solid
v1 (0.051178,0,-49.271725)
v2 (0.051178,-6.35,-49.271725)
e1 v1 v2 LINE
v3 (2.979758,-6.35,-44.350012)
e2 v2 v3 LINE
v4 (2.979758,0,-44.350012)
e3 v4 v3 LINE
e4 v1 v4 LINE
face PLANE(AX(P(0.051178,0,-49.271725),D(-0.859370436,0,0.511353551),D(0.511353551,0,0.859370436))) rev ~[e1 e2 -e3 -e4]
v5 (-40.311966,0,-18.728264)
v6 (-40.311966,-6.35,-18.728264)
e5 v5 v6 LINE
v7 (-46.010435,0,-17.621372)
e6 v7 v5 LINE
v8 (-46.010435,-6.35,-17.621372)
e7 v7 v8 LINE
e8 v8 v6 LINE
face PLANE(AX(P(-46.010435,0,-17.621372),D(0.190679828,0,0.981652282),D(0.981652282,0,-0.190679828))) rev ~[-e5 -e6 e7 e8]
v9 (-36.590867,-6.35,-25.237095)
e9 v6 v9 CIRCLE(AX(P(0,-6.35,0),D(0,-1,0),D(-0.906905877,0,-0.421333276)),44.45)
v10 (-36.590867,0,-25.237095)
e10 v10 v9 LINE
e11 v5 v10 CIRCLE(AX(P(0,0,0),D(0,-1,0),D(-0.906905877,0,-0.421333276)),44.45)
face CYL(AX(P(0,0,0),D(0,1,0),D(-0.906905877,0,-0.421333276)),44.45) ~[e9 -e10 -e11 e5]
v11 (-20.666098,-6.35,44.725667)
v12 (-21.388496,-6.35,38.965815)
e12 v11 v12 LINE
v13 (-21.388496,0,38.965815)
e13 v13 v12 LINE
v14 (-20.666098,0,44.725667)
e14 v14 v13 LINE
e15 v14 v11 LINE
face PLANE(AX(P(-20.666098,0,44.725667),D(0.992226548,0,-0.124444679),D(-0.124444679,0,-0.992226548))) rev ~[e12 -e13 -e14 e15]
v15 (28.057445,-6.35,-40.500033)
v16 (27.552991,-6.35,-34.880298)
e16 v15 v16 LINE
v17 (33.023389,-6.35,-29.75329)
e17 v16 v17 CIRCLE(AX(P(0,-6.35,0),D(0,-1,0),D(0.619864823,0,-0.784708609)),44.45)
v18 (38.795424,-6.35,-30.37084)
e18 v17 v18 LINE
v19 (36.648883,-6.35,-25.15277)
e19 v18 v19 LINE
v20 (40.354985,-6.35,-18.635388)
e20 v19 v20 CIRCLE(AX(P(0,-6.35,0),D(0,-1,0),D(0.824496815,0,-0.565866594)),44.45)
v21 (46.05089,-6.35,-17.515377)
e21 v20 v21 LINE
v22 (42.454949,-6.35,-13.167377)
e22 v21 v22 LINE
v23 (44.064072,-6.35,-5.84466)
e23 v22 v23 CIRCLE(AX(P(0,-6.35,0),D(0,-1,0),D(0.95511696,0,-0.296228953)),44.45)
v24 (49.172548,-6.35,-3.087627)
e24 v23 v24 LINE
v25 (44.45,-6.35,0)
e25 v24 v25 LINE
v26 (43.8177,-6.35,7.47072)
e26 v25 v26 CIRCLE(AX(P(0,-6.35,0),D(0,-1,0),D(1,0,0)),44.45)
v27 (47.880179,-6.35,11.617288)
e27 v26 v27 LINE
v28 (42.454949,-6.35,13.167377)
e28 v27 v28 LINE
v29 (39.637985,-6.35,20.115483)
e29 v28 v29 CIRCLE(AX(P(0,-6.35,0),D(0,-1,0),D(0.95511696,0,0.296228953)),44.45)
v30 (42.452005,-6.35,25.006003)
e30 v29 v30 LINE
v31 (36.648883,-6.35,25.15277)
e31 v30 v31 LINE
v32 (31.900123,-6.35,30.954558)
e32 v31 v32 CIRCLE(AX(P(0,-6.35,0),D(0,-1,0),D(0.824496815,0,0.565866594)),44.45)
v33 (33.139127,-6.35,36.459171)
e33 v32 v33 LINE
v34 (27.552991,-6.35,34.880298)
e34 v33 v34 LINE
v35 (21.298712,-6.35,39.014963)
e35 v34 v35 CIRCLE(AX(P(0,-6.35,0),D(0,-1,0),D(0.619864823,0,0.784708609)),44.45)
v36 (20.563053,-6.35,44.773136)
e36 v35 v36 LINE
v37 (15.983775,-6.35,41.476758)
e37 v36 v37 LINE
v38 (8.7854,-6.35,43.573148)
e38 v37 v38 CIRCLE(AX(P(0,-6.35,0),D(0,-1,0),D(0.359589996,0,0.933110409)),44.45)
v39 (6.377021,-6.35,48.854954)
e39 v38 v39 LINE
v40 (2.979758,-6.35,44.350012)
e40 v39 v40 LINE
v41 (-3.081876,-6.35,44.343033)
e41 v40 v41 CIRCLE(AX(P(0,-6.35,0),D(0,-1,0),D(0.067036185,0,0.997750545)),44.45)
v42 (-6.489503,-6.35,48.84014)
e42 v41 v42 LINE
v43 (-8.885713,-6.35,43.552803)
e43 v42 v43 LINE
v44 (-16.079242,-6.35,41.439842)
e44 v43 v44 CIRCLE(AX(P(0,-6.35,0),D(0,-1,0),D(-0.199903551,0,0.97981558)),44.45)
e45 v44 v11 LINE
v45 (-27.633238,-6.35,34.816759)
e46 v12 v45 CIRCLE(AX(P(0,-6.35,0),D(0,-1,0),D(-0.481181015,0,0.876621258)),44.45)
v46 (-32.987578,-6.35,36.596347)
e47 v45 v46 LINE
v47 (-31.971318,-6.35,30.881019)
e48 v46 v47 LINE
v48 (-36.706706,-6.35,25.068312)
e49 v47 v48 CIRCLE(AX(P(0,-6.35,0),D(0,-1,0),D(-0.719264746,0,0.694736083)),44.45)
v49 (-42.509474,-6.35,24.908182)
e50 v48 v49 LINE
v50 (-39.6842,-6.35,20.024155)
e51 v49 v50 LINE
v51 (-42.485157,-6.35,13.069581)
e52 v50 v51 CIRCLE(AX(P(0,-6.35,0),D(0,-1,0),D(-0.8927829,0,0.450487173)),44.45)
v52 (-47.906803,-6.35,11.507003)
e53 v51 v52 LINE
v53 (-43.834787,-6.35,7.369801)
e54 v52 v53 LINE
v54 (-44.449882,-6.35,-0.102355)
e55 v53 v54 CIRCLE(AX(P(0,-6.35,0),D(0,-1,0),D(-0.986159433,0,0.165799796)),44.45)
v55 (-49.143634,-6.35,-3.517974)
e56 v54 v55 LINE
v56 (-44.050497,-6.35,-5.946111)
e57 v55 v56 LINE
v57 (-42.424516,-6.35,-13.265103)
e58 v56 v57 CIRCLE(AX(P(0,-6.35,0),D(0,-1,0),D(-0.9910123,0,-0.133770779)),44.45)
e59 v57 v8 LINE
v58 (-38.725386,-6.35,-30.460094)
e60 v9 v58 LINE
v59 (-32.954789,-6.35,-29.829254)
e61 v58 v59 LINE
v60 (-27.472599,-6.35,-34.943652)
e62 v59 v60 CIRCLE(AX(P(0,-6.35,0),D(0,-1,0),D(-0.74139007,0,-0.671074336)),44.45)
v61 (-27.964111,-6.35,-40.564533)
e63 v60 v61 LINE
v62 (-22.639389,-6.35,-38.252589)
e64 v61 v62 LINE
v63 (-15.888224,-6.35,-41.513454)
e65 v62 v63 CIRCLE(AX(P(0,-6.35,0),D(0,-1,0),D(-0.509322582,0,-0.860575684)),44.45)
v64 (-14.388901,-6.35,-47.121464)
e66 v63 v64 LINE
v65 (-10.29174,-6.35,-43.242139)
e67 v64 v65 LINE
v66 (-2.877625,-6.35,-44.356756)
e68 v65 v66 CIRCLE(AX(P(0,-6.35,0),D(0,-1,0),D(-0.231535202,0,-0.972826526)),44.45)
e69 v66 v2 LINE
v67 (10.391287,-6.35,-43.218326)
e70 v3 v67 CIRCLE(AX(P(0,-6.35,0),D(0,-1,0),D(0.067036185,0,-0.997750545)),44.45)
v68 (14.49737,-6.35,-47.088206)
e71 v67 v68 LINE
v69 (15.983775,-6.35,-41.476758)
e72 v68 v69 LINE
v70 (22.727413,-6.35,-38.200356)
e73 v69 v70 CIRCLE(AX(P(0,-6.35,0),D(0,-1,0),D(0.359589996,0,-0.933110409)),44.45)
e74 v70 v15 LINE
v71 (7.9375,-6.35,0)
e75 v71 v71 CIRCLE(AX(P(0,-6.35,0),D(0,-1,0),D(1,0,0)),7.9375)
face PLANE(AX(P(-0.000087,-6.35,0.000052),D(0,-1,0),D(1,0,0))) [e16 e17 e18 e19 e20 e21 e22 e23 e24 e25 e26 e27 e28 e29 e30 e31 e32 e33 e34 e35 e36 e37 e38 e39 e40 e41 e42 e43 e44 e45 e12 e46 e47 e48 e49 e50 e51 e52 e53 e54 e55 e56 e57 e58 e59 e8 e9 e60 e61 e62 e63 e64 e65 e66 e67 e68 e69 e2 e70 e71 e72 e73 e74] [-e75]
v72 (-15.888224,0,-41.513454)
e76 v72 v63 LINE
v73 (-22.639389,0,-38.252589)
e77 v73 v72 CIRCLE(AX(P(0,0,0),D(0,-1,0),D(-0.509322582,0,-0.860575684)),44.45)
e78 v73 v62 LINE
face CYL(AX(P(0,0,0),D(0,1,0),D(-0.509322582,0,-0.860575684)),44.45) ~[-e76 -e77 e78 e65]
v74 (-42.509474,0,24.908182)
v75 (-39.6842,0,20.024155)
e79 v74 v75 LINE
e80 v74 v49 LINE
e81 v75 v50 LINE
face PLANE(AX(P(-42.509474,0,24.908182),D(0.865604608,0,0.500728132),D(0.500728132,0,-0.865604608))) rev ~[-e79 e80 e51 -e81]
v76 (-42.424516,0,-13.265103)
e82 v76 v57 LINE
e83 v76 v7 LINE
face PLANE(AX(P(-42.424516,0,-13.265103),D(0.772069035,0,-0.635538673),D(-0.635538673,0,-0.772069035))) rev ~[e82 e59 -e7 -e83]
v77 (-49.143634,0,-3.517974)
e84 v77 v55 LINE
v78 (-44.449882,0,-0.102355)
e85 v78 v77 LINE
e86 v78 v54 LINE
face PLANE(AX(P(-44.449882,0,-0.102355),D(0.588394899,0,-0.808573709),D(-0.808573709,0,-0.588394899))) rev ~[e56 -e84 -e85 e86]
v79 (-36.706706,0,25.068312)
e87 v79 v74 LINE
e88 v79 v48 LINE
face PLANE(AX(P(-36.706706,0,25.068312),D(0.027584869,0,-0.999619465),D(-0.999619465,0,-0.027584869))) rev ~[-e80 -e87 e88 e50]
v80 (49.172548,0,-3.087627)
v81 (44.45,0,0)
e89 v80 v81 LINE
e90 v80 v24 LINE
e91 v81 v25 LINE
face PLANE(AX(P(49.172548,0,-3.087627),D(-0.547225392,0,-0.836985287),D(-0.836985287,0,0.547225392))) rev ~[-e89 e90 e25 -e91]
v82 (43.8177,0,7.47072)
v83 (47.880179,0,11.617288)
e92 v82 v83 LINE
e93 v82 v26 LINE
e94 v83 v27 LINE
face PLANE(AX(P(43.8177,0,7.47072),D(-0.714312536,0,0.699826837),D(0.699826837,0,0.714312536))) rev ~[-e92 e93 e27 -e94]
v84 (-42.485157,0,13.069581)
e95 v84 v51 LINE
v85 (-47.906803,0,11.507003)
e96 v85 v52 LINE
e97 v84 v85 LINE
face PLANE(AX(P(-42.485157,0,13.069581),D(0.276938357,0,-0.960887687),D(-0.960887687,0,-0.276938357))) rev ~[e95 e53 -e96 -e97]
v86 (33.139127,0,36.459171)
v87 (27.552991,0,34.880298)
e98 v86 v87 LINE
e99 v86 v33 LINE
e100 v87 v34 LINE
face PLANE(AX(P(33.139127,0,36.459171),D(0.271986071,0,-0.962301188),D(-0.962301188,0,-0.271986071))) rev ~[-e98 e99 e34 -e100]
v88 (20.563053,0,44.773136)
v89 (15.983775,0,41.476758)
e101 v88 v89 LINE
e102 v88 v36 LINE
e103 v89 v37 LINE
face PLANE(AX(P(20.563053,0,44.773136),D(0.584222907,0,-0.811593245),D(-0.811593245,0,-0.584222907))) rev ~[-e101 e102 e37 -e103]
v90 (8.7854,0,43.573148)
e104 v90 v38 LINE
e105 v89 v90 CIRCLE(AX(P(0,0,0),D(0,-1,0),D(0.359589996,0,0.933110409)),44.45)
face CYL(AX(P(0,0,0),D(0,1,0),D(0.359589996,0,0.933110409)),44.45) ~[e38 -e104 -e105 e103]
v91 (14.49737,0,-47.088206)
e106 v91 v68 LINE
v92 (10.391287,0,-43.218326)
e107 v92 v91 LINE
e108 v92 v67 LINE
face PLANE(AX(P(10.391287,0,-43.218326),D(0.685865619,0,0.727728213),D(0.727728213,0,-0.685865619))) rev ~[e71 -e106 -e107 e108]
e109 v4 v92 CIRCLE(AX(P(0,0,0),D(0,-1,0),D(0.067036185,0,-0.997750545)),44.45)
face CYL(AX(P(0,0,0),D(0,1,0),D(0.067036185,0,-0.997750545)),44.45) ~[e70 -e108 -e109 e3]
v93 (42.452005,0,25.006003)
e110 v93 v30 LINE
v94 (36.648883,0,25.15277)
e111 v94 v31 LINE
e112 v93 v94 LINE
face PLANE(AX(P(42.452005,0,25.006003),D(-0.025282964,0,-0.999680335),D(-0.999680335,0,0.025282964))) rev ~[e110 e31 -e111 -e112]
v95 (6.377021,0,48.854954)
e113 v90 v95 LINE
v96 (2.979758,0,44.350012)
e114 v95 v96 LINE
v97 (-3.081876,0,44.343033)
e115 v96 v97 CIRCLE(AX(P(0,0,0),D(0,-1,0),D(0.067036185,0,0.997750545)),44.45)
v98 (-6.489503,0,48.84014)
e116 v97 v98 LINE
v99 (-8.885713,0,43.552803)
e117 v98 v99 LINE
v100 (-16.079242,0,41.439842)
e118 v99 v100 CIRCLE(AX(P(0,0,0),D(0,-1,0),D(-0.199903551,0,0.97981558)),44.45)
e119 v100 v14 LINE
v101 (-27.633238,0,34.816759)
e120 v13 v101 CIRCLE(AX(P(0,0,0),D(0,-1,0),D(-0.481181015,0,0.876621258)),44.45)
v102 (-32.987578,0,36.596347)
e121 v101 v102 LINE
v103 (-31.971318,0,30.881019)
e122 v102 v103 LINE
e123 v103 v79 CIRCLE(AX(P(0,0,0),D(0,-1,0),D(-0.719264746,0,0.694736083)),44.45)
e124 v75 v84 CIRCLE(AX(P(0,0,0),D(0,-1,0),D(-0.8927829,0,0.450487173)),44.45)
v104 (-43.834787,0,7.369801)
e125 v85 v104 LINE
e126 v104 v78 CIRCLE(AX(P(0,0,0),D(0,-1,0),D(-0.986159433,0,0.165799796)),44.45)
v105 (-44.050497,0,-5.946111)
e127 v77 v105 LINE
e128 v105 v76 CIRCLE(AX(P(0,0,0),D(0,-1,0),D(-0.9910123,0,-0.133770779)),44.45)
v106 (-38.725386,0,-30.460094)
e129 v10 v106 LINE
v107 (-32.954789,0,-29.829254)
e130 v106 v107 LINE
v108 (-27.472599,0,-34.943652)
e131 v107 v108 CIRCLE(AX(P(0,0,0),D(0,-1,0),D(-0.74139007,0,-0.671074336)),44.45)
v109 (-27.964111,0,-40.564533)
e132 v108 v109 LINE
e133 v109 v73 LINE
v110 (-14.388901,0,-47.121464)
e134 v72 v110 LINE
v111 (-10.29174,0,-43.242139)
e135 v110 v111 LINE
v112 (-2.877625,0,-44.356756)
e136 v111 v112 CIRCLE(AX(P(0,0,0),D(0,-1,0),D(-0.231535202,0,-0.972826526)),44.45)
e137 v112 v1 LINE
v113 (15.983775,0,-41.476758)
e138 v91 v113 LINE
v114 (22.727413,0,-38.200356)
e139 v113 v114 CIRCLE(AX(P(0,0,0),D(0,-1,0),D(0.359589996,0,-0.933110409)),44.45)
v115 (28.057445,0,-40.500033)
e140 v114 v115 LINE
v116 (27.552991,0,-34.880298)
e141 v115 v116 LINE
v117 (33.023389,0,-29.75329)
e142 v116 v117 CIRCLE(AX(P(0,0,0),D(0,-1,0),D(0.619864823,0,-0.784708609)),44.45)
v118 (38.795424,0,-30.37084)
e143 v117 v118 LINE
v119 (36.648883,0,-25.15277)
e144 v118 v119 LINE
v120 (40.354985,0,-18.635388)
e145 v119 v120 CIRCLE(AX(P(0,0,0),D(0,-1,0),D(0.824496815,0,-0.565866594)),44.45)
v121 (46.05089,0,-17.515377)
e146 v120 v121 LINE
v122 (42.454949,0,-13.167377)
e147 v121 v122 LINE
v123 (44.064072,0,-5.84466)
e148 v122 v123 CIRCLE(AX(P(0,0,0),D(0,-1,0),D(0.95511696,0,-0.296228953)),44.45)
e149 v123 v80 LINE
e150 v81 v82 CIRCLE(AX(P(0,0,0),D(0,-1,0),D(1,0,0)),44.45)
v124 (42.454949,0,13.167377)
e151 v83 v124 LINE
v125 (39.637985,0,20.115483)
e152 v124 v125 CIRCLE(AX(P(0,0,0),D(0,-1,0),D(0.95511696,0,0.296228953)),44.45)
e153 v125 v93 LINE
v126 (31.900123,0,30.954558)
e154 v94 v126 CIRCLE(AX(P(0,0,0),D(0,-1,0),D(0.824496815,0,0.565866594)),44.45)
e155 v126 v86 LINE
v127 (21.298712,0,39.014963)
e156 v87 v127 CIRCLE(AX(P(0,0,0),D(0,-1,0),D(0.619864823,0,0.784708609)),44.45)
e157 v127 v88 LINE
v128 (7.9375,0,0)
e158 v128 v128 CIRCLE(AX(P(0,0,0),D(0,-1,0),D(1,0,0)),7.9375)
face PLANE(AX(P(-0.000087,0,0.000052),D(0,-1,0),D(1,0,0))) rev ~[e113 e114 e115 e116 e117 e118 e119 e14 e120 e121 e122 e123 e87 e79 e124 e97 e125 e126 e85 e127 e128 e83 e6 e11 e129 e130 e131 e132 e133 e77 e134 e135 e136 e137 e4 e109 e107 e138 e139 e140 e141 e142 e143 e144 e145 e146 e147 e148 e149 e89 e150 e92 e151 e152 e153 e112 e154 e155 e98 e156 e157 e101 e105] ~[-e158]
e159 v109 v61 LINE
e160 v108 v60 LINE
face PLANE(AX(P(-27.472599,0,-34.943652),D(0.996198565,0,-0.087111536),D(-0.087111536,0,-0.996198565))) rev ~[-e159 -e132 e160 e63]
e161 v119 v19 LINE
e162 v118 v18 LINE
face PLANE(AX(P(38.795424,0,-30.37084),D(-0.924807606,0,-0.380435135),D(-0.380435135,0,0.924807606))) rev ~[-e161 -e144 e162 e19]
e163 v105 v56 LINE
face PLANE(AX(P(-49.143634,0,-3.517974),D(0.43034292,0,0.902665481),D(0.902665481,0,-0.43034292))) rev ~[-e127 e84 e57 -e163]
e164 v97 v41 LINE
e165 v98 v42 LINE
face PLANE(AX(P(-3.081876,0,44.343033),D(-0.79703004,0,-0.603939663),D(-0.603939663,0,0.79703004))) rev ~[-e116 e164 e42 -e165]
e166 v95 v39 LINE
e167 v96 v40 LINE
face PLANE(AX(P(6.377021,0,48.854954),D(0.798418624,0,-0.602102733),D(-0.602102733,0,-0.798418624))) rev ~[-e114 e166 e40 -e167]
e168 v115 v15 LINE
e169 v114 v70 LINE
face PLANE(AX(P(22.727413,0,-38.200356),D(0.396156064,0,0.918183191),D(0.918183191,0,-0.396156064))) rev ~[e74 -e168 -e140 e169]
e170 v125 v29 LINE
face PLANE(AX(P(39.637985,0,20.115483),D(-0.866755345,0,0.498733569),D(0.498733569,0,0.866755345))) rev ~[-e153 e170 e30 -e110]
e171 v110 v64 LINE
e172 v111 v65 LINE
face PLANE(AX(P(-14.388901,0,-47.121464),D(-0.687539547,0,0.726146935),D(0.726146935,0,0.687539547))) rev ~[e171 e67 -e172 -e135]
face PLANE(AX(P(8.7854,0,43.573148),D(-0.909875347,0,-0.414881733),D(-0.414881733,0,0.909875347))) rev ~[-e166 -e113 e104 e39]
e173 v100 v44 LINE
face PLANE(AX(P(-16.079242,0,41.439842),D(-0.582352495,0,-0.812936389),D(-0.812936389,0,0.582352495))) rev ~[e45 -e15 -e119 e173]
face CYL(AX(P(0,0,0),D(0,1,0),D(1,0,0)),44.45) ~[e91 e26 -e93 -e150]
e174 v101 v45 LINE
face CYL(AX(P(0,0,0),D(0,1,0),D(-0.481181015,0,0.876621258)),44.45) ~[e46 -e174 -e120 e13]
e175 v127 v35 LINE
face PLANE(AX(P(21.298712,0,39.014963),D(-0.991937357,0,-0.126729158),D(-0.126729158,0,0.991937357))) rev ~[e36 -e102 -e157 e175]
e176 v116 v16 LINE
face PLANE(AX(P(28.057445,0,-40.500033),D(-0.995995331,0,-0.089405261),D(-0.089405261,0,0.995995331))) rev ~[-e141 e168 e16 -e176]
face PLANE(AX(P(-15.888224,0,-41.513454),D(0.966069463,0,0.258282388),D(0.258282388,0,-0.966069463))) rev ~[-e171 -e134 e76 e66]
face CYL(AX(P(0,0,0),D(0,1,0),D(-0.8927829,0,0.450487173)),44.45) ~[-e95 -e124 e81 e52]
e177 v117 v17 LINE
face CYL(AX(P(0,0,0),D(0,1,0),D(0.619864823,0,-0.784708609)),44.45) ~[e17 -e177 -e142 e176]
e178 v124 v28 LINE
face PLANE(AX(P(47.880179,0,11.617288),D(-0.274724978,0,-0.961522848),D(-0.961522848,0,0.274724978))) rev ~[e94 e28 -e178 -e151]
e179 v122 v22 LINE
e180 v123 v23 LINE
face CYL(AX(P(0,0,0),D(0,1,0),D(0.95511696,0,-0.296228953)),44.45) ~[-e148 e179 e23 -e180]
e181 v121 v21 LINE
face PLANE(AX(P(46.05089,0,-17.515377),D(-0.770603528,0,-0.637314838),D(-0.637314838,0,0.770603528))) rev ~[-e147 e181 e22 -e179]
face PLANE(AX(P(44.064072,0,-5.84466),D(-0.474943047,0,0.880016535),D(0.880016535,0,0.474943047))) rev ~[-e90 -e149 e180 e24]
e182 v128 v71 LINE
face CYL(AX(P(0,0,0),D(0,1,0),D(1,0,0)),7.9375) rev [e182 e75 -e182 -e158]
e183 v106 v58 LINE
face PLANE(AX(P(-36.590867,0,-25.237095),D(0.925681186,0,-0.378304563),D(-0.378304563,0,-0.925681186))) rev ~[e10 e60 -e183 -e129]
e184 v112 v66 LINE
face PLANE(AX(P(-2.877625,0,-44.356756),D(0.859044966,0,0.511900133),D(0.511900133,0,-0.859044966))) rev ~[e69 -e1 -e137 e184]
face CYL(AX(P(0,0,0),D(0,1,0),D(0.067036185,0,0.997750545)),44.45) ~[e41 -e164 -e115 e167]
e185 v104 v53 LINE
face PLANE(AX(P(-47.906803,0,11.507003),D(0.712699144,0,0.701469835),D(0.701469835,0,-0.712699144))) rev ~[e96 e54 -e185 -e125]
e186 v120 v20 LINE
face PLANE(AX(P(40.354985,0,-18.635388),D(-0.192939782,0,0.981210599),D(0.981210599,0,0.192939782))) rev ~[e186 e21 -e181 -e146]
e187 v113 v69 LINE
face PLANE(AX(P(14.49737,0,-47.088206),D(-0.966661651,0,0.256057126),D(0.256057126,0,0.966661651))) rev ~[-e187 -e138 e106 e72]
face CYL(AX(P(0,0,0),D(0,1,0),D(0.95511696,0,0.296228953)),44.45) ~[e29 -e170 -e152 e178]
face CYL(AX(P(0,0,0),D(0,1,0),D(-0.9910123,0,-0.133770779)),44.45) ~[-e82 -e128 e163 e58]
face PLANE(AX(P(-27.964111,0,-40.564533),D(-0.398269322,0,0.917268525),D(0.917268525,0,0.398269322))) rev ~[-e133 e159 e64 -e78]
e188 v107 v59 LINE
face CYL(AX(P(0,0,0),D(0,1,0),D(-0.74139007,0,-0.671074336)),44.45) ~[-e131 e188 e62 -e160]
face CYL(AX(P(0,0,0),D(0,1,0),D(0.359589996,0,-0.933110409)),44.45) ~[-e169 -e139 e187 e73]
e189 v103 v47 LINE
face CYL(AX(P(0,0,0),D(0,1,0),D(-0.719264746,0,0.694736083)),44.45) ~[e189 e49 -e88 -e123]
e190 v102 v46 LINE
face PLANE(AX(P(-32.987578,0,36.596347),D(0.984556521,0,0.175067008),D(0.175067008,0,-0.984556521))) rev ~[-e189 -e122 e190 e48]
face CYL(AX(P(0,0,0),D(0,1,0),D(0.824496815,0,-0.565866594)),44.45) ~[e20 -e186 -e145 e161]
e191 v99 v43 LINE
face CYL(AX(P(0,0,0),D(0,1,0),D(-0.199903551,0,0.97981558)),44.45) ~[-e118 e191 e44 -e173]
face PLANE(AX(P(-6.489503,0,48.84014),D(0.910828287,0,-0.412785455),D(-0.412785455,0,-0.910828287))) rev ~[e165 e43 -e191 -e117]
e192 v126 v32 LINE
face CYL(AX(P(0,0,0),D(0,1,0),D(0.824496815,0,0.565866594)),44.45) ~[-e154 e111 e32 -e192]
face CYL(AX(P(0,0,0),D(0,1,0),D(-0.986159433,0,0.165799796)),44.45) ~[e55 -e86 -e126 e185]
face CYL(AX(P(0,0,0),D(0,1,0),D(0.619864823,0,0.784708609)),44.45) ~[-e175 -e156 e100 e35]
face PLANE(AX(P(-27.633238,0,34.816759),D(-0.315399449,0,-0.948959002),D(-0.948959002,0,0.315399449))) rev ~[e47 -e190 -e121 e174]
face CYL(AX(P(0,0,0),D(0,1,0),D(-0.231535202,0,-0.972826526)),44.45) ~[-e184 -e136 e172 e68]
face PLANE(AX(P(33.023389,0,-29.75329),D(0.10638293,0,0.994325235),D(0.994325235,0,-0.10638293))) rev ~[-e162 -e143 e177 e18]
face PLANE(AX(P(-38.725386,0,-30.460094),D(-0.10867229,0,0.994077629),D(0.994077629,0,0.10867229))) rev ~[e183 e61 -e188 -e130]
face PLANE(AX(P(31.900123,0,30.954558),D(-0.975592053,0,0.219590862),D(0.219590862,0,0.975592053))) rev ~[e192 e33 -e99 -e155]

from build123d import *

# Parameters (mm, degrees)
F0_R     = 7.9375
F1_DEPTH = 6.35


with BuildPart() as f1:
    # F0 (on Front) → F1 (new body)
    with BuildSketch(Plane.XZ):
        with BuildLine():
            ThreePointArc((44.0640721068, -5.844659902), (44.3534130882, -2.9286938091), (44.45, 0))
            ThreePointArc((44.45, 0), (44.2916429403, 3.7487151993), (43.8177000834, 7.4707201392))
            ThreePointArc((43.8177000834, 7.4707201392), (43.2302609799, 10.3415199856), (42.4549488772, 13.1673769534))
            ThreePointArc((42.4549488772, 13.1673769534), (41.1932213858, 16.7009284729), (39.6379848993, 20.1154829204))
            ThreePointArc((39.6379848993, 20.1154829204), (38.2264978161, 22.6834160724), (36.6488834271, 25.1527700969))
            ThreePointArc((36.6488834271, 25.1527700969), (34.3970458346, 28.1539648691), (31.900123201, 30.9545576574))
            ThreePointArc((31.900123201, 30.9545576574), (29.7912918003, 32.9891108226), (27.552991384, 34.8802976735))
            ThreePointArc((27.552991384, 34.8802976735), (24.5131823233, 37.0797302092), (21.2987124989, 39.0149631025))
            ThreePointArc((21.2987124989, 39.0149631025), (20.0011436472, 39.6958027102), (18.6818383084, 40.3335024194))
            Line((18.6818383084, 40.3335024194), (15.9837753185, 41.476757667))
            ThreePointArc((15.9837753185, 41.476757667), (12.4288665323, 42.6769935296), (8.7853998717, 43.5731482578))
            Line((8.7853998717, 43.5731482578), (5.8953894288, 44.0573136208))
            ThreePointArc((5.8953894288, 44.0573136208), (4.4399865206, 44.227695166), (2.9797584028, 44.3500117233))
            ThreePointArc((2.9797584028, 44.3500117233), (-0.0511777408, 44.4499705381), (-3.0818756726, 44.3430326245))
            ThreePointArc((-3.0818756726, 44.3430326245), (-5.99682497, 44.0436214483), (-8.8857128589, 43.5528025159))
            ThreePointArc((-8.8857128589, 43.5528025159), (-12.5271062762, 42.6482603203), (-16.0792418436, 41.4398417195))
            ThreePointArc((-16.0792418436, 41.4398417195), (-18.7746650962, 40.2903766491), (-21.3884961364, 38.9658149282))
            ThreePointArc((-21.3884961364, 38.9658149282), (-24.5985011604, 37.0231851772), (-27.6332375088, 34.8167586772))
            ThreePointArc((-27.6332375088, 34.8167586772), (-29.8671771379, 32.9204226858), (-31.9713179637, 30.8810188896))
            ThreePointArc((-31.9713179637, 30.8810188896), (-34.4617850273, 28.0746838403), (-36.7067057715, 25.0683116983))
            ThreePointArc((-36.7067057715, 25.0683116983), (-38.2786297743, 22.5953314338), (-39.6841999125, 20.0241548461))
            ThreePointArc((-39.6841999125, 20.0241548461), (-41.2315695506, 16.6060281944), (-42.4851569561, 13.0695806519))
            ThreePointArc((-42.4851569561, 13.0695806519), (-43.253959877, 10.2419458581), (-43.8347868066, 7.3698009215))
            ThreePointArc((-43.8347868066, 7.3698009215), (-44.3001577128, 3.6467144971), (-44.4498821525, -0.1023554137))
            ThreePointArc((-44.4498821525, -0.1023554137), (-44.3465515673, -3.0308190466), (-44.0504967316, -5.9461111405))
            ThreePointArc((-44.0504967316, -5.9461111405), (-43.3920943841, -9.6399504647), (-42.424515682, -13.2651034351))
            ThreePointArc((-42.424515682, -13.2651034351), (-41.4583271722, -16.0315192069), (-40.3119662534, -18.7282641156))
            ThreePointArc((-40.3119662534, -18.7282641156), (-38.5888928498, -22.0612748641), (-36.5908667529, -25.2370951235))
            ThreePointArc((-36.5908667529, -25.2370951235), (-34.8485512733, -27.5931327354), (-32.954788597, -29.8292542402))
            ThreePointArc((-32.954788597, -29.8292542402), (-30.3217176818, -32.5022451044), (-27.4725991601, -34.943651718))
            ThreePointArc((-27.4725991601, -34.943651718), (-25.1105575411, -36.6778189097), (-22.6393887587, -38.2525891494))
            ThreePointArc((-22.6393887587, -38.2525891494), (-19.3326807859, -40.025616218), (-15.8882240398, -41.5134536851))
            ThreePointArc((-15.8882240398, -41.5134536851), (-13.1184874977, -42.4700810662), (-10.2917397433, -43.2421390897))
            ThreePointArc((-10.2917397433, -43.2421390897), (-6.6082249244, -43.9560446736), (-2.877625333, -44.3567556573))
            ThreePointArc((-2.877625333, -44.3567556573), (0.0511777408, -44.4499705381), (2.9797584028, -44.3500117233))
            ThreePointArc((2.9797584028, -44.3500117233), (6.7094253828, -43.9407113169), (10.391286519, -43.2183255631))
            ThreePointArc((10.391286519, -43.2183255631), (13.2162489541, -42.4397604091), (15.9837753185, -41.476757667))
            ThreePointArc((15.9837753185, -41.476757667), (19.4247968758, -39.9809925631), (22.7274133165, -38.2003558091))
            ThreePointArc((22.7274133165, -38.2003558091), (25.1949493097, -36.619899362), (27.552991384, -34.8802976735))
            ThreePointArc((27.552991384, -34.8802976735), (30.3964805031, -32.4323368419), (33.0233893173, -29.7532898685))
            ThreePointArc((33.0233893173, -29.7532898685), (34.9119978358, -27.5128135078), (36.6488834271, -25.1527700969))
            ThreePointArc((36.6488834271, -25.1527700969), (38.6395912369, -21.9723573847), (40.3549851186, -18.6353877362))
            ThreePointArc((40.3549851186, -18.6353877362), (40.9473091431, -17.2950968178), (41.4951331794, -15.9360102417))
            Line((41.4951331794, -15.9360102417), (42.4549488772, -13.1673769534))
            ThreePointArc((42.4549488772, -13.1673769534), (43.4141773417, -9.5400055419), (44.0640721068, -5.844659902))
        make_face()
        Circle(F0_R, mode=Mode.SUBTRACT)
        with BuildLine():
            Line((49.1725476546, -3.0876265469), (44.45, 0))
            ThreePointArc((44.45, 0), (44.3534130882, -2.9286938091), (44.0640721068, -5.844659902))
            Line((44.0640721068, -5.844659902), (49.1725476546, -3.0876265469))
        make_face()
        with BuildLine():
            ThreePointArc((42.4549488772, 13.1673769534), (43.2302609799, 10.3415199856), (43.8177000834, 7.4707201392))
            Line((43.8177000834, 7.4707201392), (47.8801786158, 11.6172878184))
            Line((47.8801786158, 11.6172878184), (42.4549488772, 13.1673769534))
        make_face()
        with BuildLine():
            Line((46.0508898584, -17.5153767813), (42.4549488772, -13.1673769534))
            ThreePointArc((42.4549488772, -13.1673769534), (41.997861873, -14.5596050118), (41.4951331794, -15.9360102417))
            ThreePointArc((41.4951331794, -15.9360102417), (40.9473091431, -17.2950968178), (40.3549851186, -18.6353877362))
            Line((40.3549851186, -18.6353877362), (46.0508898584, -17.5153767813))
        make_face()
        with BuildLine():
            ThreePointArc((41.4951331794, -15.9360102417), (41.997861873, -14.5596050118), (42.4549488772, -13.1673769534))
            Line((42.4549488772, -13.1673769534), (41.4951331794, -15.9360102417))
        make_face()
        with BuildLine():
            ThreePointArc((36.6488834271, 25.1527700969), (38.2264978161, 22.6834160724), (39.6379848993, 20.1154829204))
            Line((39.6379848993, 20.1154829204), (42.4520045518, 25.0060030808))
            Line((42.4520045518, 25.0060030808), (36.6488834271, 25.1527700969))
        make_face()
        with BuildLine():
            ThreePointArc((27.552991384, 34.8802976735), (29.7912918003, 32.9891108226), (31.900123201, 30.9545576574))
            Line((31.900123201, 30.9545576574), (33.1391274312, 36.4591705012))
            Line((33.1391274312, 36.4591705012), (27.552991384, 34.8802976735))
        make_face()
        with BuildLine():
            Line((38.7954242099, -30.3708403064), (36.6488834271, -25.1527700969))
            ThreePointArc((36.6488834271, -25.1527700969), (34.9119978358, -27.5128135078), (33.0233893173, -29.7532898685))
            Line((33.0233893173, -29.7532898685), (38.7954242099, -30.3708403064))
        make_face()
        with BuildLine():
            ThreePointArc((18.6818383084, 40.3335024194), (20.0011436472, 39.6958027102), (21.2987124989, 39.0149631025))
            Line((21.2987124989, 39.0149631025), (20.5630526794, 44.7731364218))
            Line((20.5630526794, 44.7731364218), (15.9837753185, 41.476757667))
            ThreePointArc((15.9837753185, 41.476757667), (17.3422302537, 40.9273692024), (18.6818383084, 40.3335024194))
        make_face()
        with BuildLine():
            Line((28.0574454172, -40.500032558), (27.552991384, -34.8802976735))
            ThreePointArc((27.552991384, -34.8802976735), (25.1949493097, -36.619899362), (22.7274133165, -38.2003558091))
            Line((22.7274133165, -38.2003558091), (28.0574454172, -40.500032558))
        make_face()
        with BuildLine():
            Line((15.9837753185, 41.476757667), (18.6818383084, 40.3335024194))
            ThreePointArc((18.6818383084, 40.3335024194), (17.3422302537, 40.9273692024), (15.9837753185, 41.476757667))
        make_face()
        with BuildLine():
            Line((14.4973696484, -47.0882061011), (15.9837753185, -41.476757667))
            ThreePointArc((15.9837753185, -41.476757667), (13.2162489541, -42.4397604091), (10.391286519, -43.2183255631))
            Line((10.391286519, -43.2183255631), (14.4973696484, -47.0882061011))
        make_face()
        with BuildLine():
            Line((5.8953894288, 44.0573136208), (8.7853998717, 43.5731482578))
            ThreePointArc((8.7853998717, 43.5731482578), (7.3443854505, 43.839052252), (5.8953894288, 44.0573136208))
        make_face()
        with BuildLine():
            ThreePointArc((5.8953894288, 44.0573136208), (7.3443854505, 43.839052252), (8.7853998717, 43.5731482578))
            Line((8.7853998717, 43.5731482578), (6.3770210487, 48.8549535164))
            Line((6.3770210487, 48.8549535164), (2.9797584028, 44.3500117233))
            ThreePointArc((2.9797584028, 44.3500117233), (4.4399865206, 44.227695166), (5.8953894288, 44.0573136208))
        make_face()
        with BuildLine():
            Line((0.0511777408, -49.2717251549), (2.9797584028, -44.3500117233))
            ThreePointArc((2.9797584028, -44.3500117233), (0.0511777408, -44.4499705381), (-2.877625333, -44.3567556573))
            Line((-2.877625333, -44.3567556573), (0.0511777408, -49.2717251549))
        make_face()
        with BuildLine():
            ThreePointArc((-8.8857128589, 43.5528025159), (-5.99682497, 44.0436214483), (-3.0818756726, 44.3430326245))
            Line((-3.0818756726, 44.3430326245), (-6.4895028814, 48.8401395667))
            Line((-6.4895028814, 48.8401395667), (-8.8857128589, 43.5528025159))
        make_face()
        with BuildLine():
            Line((-14.3889007778, -47.1214644822), (-10.2917397433, -43.2421390897))
            ThreePointArc((-10.2917397433, -43.2421390897), (-13.1184874977, -42.4700810662), (-15.8882240398, -41.5134536851))
            Line((-15.8882240398, -41.5134536851), (-14.3889007778, -47.1214644822))
        make_face()
        with BuildLine():
            ThreePointArc((-21.3884961364, 38.9658149282), (-18.7746650962, 40.2903766491), (-16.0792418436, 41.4398417195))
            Line((-16.0792418436, 41.4398417195), (-20.6660976647, 44.7256669917))
            Line((-20.6660976647, 44.7256669917), (-21.3884961364, 38.9658149282))
        make_face()
        with BuildLine():
            Line((-27.964111242, -40.564533314), (-22.6393887587, -38.2525891494))
            ThreePointArc((-22.6393887587, -38.2525891494), (-25.1105575411, -36.6778189097), (-27.4725991601, -34.943651718))
            Line((-27.4725991601, -34.943651718), (-27.964111242, -40.564533314))
        make_face()
        with BuildLine():
            ThreePointArc((-31.9713179637, 30.8810188896), (-29.8671771379, 32.9204226858), (-27.6332375088, 34.8167586772))
            Line((-27.6332375088, 34.8167586772), (-32.9875778767, 36.596346626))
            Line((-32.9875778767, 36.596346626), (-31.9713179637, 30.8810188896))
        make_face()
        with BuildLine():
            Line((-38.7253861476, -30.4600943574), (-32.954788597, -29.8292542402))
            ThreePointArc((-32.954788597, -29.8292542402), (-34.8485512733, -27.5931327354), (-36.5908667529, -25.2370951235))
            Line((-36.5908667529, -25.2370951235), (-38.7253861476, -30.4600943574))
        make_face()
        with BuildLine():
            ThreePointArc((-39.6841999125, 20.0241548461), (-38.2786297743, 22.5953314338), (-36.7067057715, 25.0683116983))
            Line((-36.7067057715, 25.0683116983), (-42.509473549, 24.9081821723))
            Line((-42.509473549, 24.9081821723), (-39.6841999125, 20.0241548461))
        make_face()
        with BuildLine():
            Line((-46.0104349513, -17.621372141), (-40.3119662534, -18.7282641156))
            ThreePointArc((-40.3119662534, -18.7282641156), (-41.4583271722, -16.0315192069), (-42.424515682, -13.2651034351))
            Line((-42.424515682, -13.2651034351), (-46.0104349513, -17.621372141))
        make_face()
        with BuildLine():
            ThreePointArc((-43.8347868066, 7.3698009215), (-43.253959877, 10.2419458581), (-42.4851569561, 13.0695806519))
            Line((-42.4851569561, 13.0695806519), (-47.906802907, 11.5070029014))
            Line((-47.906802907, 11.5070029014), (-43.8347868066, 7.3698009215))
        make_face()
        with BuildLine():
            Line((-49.1436337538, -3.5179741351), (-44.0504967316, -5.9461111405))
            ThreePointArc((-44.0504967316, -5.9461111405), (-44.3465515673, -3.0308190466), (-44.4498821525, -0.1023554137))
            Line((-44.4498821525, -0.1023554137), (-49.1436337538, -3.5179741351))
        make_face()
    extrude(amount=F1_DEPTH)


solid = f1.part
